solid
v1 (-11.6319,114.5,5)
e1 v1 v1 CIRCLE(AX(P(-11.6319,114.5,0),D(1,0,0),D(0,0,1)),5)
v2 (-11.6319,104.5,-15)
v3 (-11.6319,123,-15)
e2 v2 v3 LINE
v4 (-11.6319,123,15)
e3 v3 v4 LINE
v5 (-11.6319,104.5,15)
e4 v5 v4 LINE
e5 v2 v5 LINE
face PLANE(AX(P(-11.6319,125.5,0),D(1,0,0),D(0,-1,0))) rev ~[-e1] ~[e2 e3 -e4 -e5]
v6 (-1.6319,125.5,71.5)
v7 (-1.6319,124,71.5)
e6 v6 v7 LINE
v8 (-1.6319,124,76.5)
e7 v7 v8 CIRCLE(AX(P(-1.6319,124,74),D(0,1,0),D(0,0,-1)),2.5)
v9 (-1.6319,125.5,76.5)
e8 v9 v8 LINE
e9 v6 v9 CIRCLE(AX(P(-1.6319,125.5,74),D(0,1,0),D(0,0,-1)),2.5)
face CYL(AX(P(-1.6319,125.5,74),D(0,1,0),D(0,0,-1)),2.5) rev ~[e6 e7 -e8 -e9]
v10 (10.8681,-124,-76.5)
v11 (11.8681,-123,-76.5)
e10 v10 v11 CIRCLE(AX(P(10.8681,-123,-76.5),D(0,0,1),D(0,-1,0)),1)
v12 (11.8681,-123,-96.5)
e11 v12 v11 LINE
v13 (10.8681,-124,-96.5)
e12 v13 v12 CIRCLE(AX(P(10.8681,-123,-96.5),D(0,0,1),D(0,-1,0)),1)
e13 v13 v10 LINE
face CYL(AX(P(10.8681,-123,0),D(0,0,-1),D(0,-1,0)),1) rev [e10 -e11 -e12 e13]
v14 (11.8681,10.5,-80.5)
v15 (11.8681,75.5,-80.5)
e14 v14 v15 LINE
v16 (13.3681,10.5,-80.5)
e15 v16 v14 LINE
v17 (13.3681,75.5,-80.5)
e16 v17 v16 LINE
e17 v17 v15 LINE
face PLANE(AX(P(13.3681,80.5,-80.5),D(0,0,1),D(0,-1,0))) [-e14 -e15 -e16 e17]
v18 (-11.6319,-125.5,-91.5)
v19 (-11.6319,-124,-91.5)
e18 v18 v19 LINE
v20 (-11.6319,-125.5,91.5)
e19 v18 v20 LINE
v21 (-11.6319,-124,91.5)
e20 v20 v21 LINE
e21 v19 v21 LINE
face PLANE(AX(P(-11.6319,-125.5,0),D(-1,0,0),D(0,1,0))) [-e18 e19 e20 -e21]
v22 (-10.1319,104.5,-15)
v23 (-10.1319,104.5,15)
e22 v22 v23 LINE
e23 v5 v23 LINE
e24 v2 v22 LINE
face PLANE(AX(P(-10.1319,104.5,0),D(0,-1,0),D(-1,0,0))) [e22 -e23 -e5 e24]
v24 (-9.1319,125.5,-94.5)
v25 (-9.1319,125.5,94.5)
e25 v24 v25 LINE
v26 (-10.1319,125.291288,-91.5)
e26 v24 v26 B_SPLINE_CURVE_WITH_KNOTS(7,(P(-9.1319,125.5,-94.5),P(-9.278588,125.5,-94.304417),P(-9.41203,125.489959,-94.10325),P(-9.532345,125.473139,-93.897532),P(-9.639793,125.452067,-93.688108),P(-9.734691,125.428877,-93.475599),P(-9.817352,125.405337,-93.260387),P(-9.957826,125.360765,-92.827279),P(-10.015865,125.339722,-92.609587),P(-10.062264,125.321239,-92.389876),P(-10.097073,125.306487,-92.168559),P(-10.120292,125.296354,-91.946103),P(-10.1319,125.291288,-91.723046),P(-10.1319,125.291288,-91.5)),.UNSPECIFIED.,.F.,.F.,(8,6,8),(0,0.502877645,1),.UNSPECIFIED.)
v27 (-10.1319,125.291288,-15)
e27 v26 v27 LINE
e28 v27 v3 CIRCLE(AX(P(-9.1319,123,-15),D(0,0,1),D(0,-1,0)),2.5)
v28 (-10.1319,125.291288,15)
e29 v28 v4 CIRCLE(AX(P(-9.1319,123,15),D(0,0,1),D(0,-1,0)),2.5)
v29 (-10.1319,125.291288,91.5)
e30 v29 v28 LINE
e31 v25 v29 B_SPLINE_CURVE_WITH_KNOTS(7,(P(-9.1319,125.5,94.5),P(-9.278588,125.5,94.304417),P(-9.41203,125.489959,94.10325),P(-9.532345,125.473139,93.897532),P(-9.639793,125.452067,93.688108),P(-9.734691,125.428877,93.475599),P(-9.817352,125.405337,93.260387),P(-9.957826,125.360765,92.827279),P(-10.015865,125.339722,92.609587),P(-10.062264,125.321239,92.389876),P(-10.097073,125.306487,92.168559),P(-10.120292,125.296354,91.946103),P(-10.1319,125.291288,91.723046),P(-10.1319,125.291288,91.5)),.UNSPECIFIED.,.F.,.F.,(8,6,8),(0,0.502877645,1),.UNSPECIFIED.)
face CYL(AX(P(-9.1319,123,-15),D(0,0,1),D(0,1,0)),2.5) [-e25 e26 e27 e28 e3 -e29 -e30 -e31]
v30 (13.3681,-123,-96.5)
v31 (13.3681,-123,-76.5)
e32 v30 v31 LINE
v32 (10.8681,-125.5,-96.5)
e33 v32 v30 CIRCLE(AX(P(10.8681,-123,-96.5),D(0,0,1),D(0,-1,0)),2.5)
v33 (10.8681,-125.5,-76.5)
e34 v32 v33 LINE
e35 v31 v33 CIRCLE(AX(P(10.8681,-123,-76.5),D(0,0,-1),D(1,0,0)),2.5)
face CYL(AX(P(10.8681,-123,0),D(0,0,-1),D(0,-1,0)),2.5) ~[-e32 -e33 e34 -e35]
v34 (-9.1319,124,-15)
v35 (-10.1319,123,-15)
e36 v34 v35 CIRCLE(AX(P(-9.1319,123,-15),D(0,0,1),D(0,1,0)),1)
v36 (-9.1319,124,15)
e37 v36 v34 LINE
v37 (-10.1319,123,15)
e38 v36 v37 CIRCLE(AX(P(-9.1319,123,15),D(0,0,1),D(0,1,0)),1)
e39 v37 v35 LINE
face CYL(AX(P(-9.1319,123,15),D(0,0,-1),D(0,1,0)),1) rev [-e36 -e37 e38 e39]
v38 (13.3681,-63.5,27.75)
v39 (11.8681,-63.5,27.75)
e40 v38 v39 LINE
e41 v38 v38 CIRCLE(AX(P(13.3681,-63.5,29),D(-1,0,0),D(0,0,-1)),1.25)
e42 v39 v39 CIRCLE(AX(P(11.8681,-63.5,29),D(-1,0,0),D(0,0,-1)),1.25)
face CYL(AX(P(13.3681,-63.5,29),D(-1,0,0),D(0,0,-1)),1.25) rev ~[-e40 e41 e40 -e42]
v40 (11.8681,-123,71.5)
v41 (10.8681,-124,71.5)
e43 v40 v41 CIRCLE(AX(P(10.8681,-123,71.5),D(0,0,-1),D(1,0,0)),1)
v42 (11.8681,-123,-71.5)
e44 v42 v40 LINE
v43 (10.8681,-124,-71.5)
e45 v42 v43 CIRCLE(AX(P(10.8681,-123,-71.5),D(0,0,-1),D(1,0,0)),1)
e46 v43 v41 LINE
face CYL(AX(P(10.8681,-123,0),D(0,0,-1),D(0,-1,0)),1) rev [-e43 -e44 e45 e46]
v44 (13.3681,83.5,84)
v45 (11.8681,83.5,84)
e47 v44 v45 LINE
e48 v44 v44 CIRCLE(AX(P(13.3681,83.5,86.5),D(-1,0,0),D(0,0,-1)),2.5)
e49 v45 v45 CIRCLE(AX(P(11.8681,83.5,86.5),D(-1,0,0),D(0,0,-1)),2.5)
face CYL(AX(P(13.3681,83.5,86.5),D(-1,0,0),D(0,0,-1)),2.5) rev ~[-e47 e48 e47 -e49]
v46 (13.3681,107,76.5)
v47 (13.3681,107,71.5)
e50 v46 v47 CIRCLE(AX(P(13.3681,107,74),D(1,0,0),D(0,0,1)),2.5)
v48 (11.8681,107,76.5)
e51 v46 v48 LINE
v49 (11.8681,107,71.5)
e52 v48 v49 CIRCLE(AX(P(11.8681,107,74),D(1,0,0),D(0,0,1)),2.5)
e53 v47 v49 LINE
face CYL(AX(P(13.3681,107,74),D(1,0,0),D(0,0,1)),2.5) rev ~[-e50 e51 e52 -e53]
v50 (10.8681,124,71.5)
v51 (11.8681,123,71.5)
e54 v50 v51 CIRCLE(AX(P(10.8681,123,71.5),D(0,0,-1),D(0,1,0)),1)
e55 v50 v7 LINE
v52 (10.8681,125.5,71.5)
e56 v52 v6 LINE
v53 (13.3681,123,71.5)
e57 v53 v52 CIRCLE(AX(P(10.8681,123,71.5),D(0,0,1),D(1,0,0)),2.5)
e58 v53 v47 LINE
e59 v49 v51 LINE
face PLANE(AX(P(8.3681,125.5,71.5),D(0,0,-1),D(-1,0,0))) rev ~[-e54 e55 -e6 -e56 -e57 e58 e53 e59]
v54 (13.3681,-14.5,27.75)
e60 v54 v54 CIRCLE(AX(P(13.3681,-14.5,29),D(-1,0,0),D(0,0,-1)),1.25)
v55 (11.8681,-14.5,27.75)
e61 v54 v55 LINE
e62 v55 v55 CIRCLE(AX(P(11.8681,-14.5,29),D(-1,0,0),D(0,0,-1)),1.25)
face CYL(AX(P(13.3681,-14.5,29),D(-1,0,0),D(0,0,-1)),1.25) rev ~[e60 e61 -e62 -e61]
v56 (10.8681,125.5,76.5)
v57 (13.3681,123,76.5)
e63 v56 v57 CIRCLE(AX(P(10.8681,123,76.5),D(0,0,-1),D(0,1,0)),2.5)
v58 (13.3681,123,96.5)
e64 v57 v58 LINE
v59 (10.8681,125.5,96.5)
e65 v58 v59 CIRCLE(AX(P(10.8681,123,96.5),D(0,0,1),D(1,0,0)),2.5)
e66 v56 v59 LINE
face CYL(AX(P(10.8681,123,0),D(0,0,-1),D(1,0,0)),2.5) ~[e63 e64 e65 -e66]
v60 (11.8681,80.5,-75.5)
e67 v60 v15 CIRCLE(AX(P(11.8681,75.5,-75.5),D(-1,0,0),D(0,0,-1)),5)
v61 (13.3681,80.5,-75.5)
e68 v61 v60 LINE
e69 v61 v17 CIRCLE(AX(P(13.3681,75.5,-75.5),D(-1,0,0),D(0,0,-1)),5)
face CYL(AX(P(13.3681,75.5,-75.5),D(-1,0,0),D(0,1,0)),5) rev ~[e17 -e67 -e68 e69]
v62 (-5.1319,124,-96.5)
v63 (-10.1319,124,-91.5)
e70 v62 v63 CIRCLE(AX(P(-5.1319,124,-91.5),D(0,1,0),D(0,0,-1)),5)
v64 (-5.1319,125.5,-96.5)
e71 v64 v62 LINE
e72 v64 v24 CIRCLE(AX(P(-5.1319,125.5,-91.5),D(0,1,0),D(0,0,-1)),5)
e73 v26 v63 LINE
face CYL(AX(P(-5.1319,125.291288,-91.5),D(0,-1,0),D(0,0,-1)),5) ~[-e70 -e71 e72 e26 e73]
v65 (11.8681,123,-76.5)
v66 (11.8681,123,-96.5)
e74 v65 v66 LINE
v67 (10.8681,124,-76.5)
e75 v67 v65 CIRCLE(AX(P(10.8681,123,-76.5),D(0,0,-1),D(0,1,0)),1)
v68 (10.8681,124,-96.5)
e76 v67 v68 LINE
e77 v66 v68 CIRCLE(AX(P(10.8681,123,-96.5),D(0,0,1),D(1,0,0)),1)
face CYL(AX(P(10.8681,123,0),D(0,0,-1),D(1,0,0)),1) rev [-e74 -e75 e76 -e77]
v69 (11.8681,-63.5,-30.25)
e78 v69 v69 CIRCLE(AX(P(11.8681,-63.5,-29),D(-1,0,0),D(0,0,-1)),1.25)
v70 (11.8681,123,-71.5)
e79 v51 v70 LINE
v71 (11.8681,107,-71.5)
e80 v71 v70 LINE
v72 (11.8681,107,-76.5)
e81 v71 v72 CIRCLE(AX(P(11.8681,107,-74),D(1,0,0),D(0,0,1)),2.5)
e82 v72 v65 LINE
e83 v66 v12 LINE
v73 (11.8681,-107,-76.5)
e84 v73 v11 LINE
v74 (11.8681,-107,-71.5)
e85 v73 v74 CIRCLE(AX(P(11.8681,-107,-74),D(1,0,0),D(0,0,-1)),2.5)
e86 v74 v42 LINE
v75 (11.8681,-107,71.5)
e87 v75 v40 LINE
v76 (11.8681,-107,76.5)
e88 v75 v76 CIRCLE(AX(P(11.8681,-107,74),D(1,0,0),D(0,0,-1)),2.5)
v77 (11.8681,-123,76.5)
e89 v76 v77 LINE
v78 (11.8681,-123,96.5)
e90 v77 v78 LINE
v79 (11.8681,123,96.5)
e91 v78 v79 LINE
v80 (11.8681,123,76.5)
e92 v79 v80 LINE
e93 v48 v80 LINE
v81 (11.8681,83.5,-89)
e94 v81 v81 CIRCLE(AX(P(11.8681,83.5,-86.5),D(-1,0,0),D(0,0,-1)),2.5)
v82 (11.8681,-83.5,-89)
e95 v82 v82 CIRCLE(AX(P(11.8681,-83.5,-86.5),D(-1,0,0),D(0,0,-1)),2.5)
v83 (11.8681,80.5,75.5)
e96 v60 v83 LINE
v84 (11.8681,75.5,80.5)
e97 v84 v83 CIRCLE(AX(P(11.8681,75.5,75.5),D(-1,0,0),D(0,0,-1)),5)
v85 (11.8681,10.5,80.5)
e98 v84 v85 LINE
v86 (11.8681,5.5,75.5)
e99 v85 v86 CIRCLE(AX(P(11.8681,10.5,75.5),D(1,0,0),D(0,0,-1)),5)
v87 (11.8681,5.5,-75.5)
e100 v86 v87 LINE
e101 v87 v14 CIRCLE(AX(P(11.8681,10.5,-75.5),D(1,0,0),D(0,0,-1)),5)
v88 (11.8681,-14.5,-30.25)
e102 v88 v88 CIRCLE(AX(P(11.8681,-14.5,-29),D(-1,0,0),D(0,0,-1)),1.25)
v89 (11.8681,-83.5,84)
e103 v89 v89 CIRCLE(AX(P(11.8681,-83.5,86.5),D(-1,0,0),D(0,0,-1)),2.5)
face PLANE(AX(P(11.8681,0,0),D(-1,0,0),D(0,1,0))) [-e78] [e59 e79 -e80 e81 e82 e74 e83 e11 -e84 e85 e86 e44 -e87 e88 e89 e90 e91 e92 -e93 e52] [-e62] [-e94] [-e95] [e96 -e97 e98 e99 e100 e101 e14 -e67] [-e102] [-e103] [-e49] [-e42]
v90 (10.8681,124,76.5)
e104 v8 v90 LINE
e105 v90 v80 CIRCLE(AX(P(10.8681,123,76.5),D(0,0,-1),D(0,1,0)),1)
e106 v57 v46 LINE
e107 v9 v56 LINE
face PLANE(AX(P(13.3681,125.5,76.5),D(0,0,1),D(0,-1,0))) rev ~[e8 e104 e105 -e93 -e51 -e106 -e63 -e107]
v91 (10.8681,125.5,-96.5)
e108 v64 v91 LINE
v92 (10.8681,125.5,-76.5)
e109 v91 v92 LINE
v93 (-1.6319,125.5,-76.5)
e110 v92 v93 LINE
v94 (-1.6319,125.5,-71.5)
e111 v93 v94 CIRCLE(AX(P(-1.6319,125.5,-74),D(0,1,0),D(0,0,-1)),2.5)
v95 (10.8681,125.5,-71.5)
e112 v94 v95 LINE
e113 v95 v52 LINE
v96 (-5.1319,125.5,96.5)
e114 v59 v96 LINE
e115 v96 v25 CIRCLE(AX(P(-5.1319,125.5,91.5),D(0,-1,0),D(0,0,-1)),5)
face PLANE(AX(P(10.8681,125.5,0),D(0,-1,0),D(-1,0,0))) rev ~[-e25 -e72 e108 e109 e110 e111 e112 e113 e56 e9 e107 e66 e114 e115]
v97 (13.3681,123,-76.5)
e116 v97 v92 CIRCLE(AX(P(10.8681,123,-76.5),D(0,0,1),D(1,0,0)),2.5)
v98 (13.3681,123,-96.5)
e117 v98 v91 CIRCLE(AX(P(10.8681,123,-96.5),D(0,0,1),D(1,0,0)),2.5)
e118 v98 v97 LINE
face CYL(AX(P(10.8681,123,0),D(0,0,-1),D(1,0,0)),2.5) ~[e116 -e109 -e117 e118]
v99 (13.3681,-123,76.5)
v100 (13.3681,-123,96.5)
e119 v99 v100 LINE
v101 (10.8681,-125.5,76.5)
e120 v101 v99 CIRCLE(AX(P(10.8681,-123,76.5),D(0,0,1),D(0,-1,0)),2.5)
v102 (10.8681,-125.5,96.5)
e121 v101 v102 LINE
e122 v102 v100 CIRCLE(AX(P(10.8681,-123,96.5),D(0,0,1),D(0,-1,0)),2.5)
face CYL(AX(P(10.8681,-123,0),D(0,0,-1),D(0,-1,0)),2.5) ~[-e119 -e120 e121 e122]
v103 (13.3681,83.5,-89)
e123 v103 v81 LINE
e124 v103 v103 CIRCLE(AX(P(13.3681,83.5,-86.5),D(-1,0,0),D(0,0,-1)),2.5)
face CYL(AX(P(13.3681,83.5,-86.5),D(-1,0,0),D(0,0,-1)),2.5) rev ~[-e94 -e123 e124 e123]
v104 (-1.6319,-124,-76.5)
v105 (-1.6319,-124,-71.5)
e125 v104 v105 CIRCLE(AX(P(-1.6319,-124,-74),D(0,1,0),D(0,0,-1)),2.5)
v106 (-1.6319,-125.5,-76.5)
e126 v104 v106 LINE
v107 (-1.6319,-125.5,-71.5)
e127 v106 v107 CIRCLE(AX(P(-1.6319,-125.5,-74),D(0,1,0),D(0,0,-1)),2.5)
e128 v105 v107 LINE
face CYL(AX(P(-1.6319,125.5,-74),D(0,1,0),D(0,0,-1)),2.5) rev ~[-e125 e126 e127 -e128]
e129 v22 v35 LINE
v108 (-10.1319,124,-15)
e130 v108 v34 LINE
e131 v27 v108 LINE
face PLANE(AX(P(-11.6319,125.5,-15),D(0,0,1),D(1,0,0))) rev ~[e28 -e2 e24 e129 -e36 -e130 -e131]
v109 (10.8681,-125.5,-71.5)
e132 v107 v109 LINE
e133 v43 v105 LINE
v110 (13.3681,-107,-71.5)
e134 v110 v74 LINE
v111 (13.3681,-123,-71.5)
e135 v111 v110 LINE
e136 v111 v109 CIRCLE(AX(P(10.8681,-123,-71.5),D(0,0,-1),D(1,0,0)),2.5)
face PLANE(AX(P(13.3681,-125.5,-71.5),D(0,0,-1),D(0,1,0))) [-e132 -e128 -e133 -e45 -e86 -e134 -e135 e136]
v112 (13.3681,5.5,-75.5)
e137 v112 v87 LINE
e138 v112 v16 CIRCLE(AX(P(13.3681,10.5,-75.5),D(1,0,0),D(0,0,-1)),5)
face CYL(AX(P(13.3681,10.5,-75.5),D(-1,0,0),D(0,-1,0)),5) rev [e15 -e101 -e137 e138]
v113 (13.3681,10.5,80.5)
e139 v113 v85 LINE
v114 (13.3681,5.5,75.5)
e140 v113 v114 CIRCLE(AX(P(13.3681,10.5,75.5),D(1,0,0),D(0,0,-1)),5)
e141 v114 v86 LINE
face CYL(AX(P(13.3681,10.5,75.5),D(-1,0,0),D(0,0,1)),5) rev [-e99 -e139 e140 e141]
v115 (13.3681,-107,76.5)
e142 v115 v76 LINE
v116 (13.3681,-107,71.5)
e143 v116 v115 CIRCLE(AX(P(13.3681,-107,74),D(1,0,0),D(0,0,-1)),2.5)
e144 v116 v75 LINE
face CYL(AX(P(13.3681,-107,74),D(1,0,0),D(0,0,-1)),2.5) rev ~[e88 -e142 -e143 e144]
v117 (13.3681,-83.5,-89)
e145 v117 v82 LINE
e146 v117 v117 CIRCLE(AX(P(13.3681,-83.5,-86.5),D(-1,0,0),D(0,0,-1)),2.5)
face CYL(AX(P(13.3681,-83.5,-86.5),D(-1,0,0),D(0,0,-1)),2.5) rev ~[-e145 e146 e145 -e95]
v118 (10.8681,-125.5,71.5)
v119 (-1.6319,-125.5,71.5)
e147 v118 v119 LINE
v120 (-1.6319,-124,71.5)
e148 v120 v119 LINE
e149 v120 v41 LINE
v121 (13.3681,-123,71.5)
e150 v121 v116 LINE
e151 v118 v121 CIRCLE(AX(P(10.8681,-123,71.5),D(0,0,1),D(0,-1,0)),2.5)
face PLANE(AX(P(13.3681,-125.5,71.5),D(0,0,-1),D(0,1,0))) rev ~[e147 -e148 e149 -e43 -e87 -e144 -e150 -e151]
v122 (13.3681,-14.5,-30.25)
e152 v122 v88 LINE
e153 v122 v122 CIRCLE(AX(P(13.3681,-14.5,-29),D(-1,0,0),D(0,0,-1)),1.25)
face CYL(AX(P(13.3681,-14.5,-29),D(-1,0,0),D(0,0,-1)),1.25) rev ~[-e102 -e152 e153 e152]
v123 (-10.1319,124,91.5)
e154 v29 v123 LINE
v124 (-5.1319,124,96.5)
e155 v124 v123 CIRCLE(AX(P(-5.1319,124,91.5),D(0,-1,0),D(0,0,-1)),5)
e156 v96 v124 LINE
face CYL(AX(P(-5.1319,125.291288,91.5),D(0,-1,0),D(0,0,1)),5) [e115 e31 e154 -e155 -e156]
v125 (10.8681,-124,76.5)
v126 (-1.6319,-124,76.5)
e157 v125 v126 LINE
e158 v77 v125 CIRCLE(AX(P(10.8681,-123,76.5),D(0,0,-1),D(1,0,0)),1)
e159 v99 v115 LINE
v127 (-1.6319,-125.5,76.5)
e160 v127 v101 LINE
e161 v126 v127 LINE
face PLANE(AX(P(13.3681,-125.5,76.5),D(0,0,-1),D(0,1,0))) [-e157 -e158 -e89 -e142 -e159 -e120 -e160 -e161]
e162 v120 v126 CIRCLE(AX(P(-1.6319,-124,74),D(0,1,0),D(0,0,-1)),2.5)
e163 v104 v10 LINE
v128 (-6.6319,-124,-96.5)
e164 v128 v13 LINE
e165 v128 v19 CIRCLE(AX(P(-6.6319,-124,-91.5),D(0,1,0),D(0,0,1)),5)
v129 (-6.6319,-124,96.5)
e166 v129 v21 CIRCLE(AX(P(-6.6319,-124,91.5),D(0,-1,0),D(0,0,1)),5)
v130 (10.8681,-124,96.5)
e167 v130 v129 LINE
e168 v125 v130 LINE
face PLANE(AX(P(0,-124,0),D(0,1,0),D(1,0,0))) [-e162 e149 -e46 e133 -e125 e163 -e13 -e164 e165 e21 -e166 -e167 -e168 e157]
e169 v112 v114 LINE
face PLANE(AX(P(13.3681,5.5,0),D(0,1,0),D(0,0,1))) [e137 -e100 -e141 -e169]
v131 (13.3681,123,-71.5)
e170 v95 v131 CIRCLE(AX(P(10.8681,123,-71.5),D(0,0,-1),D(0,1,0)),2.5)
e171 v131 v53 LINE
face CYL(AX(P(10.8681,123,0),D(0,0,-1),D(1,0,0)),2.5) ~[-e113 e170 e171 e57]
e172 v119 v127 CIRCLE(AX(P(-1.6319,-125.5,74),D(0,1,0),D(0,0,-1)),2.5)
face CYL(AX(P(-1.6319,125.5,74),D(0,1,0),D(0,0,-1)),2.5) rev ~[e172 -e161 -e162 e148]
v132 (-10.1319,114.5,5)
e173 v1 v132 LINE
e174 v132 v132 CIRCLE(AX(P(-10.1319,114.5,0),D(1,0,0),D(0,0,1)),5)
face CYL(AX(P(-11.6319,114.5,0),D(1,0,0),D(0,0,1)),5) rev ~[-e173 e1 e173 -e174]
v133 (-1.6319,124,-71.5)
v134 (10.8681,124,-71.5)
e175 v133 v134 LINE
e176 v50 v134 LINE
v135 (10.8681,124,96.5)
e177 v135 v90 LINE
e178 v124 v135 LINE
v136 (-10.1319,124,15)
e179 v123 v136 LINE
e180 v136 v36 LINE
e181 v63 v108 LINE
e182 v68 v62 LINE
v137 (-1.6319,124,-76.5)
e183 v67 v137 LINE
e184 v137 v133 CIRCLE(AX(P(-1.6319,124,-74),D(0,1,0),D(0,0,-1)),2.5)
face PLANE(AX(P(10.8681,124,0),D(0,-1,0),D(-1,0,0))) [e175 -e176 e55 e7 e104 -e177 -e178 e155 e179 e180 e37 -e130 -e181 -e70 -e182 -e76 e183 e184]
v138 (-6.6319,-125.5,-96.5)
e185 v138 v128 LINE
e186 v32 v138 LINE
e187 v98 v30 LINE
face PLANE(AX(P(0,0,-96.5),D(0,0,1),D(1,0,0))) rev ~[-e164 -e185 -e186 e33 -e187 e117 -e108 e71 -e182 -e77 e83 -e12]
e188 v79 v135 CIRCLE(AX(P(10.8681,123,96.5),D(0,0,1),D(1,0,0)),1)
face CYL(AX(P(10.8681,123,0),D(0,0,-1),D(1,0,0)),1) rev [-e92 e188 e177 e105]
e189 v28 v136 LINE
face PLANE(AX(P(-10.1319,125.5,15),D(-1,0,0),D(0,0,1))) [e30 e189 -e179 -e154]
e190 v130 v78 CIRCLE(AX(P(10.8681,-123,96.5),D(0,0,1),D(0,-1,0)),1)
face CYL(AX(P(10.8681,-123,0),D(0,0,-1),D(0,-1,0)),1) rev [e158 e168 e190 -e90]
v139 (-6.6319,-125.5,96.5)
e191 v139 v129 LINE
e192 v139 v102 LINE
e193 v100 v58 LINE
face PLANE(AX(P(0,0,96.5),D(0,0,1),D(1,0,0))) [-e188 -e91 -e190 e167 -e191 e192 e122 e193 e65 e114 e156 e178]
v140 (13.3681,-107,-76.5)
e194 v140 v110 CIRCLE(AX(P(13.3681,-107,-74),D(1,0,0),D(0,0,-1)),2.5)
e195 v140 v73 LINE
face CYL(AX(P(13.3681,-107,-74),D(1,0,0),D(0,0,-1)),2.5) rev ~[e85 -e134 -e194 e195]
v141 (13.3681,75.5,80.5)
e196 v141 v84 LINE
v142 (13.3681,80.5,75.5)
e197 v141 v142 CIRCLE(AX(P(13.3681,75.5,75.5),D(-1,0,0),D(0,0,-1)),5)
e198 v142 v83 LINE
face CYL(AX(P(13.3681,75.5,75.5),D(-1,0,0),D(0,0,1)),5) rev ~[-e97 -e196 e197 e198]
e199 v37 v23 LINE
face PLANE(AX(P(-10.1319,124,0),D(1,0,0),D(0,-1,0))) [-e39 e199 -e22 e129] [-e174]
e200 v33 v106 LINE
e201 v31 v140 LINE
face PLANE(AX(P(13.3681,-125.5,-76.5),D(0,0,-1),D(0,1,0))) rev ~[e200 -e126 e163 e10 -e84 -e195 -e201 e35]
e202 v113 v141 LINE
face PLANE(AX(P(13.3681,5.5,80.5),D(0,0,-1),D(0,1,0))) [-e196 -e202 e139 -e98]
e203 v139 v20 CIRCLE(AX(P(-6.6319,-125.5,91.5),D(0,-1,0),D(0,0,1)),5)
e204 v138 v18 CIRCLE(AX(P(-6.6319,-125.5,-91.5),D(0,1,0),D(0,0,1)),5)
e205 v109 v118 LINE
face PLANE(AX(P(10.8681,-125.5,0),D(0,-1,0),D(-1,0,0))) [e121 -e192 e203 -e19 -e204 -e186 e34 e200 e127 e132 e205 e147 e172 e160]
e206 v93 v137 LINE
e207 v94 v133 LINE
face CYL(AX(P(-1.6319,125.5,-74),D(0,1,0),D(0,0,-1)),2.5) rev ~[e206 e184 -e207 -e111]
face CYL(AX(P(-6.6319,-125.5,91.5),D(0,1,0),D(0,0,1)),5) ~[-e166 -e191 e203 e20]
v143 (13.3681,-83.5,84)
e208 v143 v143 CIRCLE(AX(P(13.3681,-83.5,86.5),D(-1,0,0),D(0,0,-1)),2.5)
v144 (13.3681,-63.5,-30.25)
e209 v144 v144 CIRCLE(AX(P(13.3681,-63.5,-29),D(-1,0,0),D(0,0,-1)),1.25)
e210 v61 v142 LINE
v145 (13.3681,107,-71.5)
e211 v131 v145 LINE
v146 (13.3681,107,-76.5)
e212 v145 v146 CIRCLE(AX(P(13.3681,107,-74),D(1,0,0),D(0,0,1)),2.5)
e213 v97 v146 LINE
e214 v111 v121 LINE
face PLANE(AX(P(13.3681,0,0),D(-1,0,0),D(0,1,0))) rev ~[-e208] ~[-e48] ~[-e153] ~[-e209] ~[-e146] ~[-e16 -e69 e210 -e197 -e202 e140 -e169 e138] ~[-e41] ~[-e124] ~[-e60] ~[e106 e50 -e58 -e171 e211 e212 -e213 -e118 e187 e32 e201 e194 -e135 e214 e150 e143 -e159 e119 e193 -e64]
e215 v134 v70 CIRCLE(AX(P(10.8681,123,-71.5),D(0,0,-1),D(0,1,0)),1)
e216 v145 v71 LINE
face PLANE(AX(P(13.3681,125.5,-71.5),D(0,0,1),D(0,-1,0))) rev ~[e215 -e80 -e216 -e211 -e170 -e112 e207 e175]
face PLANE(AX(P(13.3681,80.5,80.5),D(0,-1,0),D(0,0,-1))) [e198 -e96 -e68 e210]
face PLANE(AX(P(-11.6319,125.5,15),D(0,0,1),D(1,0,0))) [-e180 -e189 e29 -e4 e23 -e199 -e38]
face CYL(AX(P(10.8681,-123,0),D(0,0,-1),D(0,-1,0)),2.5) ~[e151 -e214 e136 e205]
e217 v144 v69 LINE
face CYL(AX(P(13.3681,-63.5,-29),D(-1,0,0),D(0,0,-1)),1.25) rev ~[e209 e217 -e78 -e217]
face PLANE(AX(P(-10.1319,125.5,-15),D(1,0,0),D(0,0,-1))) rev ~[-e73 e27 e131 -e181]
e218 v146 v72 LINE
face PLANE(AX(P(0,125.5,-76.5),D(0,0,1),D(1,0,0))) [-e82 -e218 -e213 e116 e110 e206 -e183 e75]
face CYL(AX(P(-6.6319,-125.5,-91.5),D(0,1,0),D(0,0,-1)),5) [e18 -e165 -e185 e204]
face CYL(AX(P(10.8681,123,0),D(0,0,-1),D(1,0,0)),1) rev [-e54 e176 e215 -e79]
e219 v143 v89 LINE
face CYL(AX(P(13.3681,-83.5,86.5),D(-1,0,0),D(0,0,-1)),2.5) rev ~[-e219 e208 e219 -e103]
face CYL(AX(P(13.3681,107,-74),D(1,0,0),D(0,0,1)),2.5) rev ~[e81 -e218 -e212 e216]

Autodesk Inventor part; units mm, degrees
ref_plane "YZ Plane" through (0, 0, 0) normal (1, 0, 0) x (0, 1, 0)
ref_plane "XZ Plane" through (0, 0, 0) normal (0, 1, 0) x (-1, 0, 0)
ref_plane "XY Plane" through (0, 0, 0) normal (0, 0, 1) x (1, 0, 0)
sketch "Skizze1" plane through (0, 0, 0) normal (0, 0, 1) x (1, 0, 0)
  line L0 (-65.8319, 0) -> (313.5681, 0) projected
  line L1 (0, -176.4249) -> (0, 176.4249) projected
  line L2 (13.3681, -123) -> (13.3681, 123)
  line L3 (13.3681, -125.5) -> (259.3681, -125.5) construction
  line L4 (10.8681, 125.5) -> (-11.6319, 125.5)
  line L5 (-11.6319, 125.5) -> (-11.6319, 104.5)
  line L6 (10.8681, -125.5) -> (-11.6319, -125.5)
  line L7 (13.3681, -125.5) -> (35.8681, -125.5) construction
  line L8 (-11.6319, -125.5) -> (-11.6319, -124)
  line L9 (-11.6319, -124) -> (10.8681, -124)
  line L10 (11.8681, -123) -> (11.8681, 123)
  line L11 (10.8681, 124) -> (-10.1319, 124)
  line L12 (-10.1319, 124) -> (-10.1319, 104.5)
  line L13 (-10.1319, 104.5) -> (-11.6319, 104.5)
  arc A0 (13.3681, 123) -> (10.8681, 125.5) centre (10.8681, 123) ccw
  arc A1 (10.8681, -125.5) -> (13.3681, -123) centre (10.8681, -123) ccw
  arc A2 (10.8681, -124) -> (11.8681, -123) centre (10.8681, -123) ccw
  arc A3 (11.8681, 123) -> (10.8681, 124) centre (10.8681, 123) ccw
  point P0 (0, 0)
  point P1 (13.3681, 125.5)
  point P2 (11.8681, -124)
  point P3 (11.8681, 124)
  dimension "d0" = 251
  dimension "d1" = 90
  dimension "d2" = 25
  dimension "d3" = 90
  dimension "d4" = 21
  dimension "d5" = 90
  dimension "d6" = 25
  dimension "d7" = 180
  dimension "d8" = 1.5
  dimension "d9" = 90
  dimension "d10" = 23.5
  dimension "d11" = 90
  dimension "d12" = 248
  dimension "d13" = 90
  dimension "d14" = 22
  dimension "d15" = 90
  dimension "d17" = 1
extrude "Extrusion1" add sketch "Skizze1" along normal mid plane 193 contours L10 A3 L11 L1 L4 A0 L2 L0 | L0 L2 A1 L6 L1 L9 A2 L10 | L1 L6 L8 L9 | L11 L12 L13 L5 L4 L1
sketch "Skizze2" plane through (-11.6319, 104.5, 96.5) normal (-1, 0, 0) x (0, 0, 1)
  line L0 (-96.5, -280.2) -> (-96.5, 71.2) projected
  line L1 (-231.6, -104.5) -> (38.6, -104.5) projected
  line L2 (-193, 19.5) -> (-111.5, 19.5)
  line L3 (-111.5, 19.5) -> (-111.5, 0)
  line L4 (-111.5, 0) -> (-193, 0)
  line L5 (-193, 0) -> (-193, 19.5)
  line L6 (-193, -227.5) -> (-193, 18.5) projected
  line L7 (0, 21) -> (-193, 21) projected
  line L8 (0, 19.5) -> (-81.5, 19.5)
  line L9 (-81.5, 19.5) -> (-81.5, 0)
  line L10 (-81.5, 0) -> (0, 0)
  line L11 (0, 0) -> (0, 19.5)
  point P0 (-96.5, -104.5)
  dimension "d20" = 19.5
  dimension "d22" = 1.5
  dimension "d23" = 15
extrude "Extrusion2" cut sketch "Skizze2" against normal blind 2
sketch "Skizze3" plane through (-11.6319, 125.5, 96.5) normal (0, 1, 0) x (1, 0, 0)
  line L0 (-5, 96.5) -> (30, 96.5) projected
  line L1 (11.6319, 231.6) -> (11.6319, -38.6) projected
  line L2 (0, 0) -> (0, 81.5)
  line L3 (0, 81.5) -> (1.5, 81.5)
  line L4 (1.5, 81.5) -> (1.5, 0)
  line L5 (0, 81.5) -> (0, 0) projected
  line L6 (1.5, 0) -> (0, 0)
  line L7 (0, 0) -> (0, 193) projected
  line L8 (22.5, 0) -> (0, 0) projected
  line L9 (0, 193) -> (0, 111.5)
  line L10 (0, 111.5) -> (1.5, 111.5)
  line L11 (1.5, 111.5) -> (1.5, 193)
  line L12 (1.5, 193) -> (0, 193)
  point P0 (11.6319, 96.5)
  dimension "d27" = 1.5
  dimension "d28" = 15
extrude "Extrusion3" cut sketch "Skizze3" against normal blind 2 contours L7 L12 L11 L10 | L3 L4 L6 L2
fillet "Rundung1" radius 2.5 1 edges at (-11.6319, 125.5, 0)
fillet "Rundung2" radius 1 1 edges at (-10.1319, 124, 0)
hole "Bohrung1" at (-11.6319, 114.5, 0) direction (1, 0, 0) diameter 10 depth 8 tip angle 118
sketch "Skizze4" plane through (13.3681, -123, 96.5) normal (1, 0, 0) x (0, 0, -1)
  line L0 (231.6, 123) -> (-38.6, 123) projected
  line L1 (96.5, -52.7) -> (96.5, 298.7) projected
  line L2 (16, 203.5) -> (177, 203.5)
  line L3 (177, 203.5) -> (177, 128.5)
  line L4 (177, 128.5) -> (16, 128.5)
  line L5 (16, 128.5) -> (16, 203.5)
  line L6 (0, 0) -> (0, 246) projected
  line L7 (193, 0) -> (193, 246) projected
  line L8 (0, 248.5) -> (193, 248.5) projected
  point P0 (96.5, 123)
  dimension "d42" = 16
  dimension "d43" = 75
  dimension "d44" = 16
  dimension "d45" = 45
extrude "Extrusion4" cut sketch "Skizze4" against normal blind 2
hole "Bohrung2" at (13.3681, 83.5, -86.5) direction (-1, 0, 0) diameter 5 depth 8 tip angle 118
pattern_linear "Rechteckige Anordnung1" count 2 spacing 173 along (0, 0, 1) count 2 spacing 167 along (0, -1, 0) of "Bohrung2"
hole "Bohrung3" at (13.3681, -14.5, 29) direction (-1, 0, 0) diameter 2.5 depth 8 tip angle 118
pattern_linear "Rechteckige Anordnung2" count 2 spacing 58 along (0, 0, -1) count 2 spacing 49 along (0, -1, 0) of "Bohrung3"
sketch "Skizze5" plane through (13.3681, -123, 96.5) normal (1, 0, 0) x (0, 0, -1)
  line L0 (96.5, -52.7) -> (96.5, 298.7) projected
  line L1 (231.6, 123) -> (-38.6, 123) projected
  line L2 (20, -2.5) -> (20, 16)
  line L3 (25, -2.5) -> (25, 16)
  arc A0 (25, 16) -> (20, 16) centre (22.5, 16) ccw
  line L4 (0, 0) -> (0, 246) projected
  line L5 (0, -2.5) -> (193, -2.5) projected
  line L6 (20, -2.5) -> (25, -2.5)
  line L7 (173, -2.5) -> (173, 16)
  line L8 (168, -2.5) -> (168, 16)
  arc A1 (173, 16) -> (168, 16) centre (170.5, 16) ccw
  line L9 (173, -2.5) -> (168, -2.5)
  line L10 (20, 248.5) -> (20, 230)
  line L11 (25, 248.5) -> (25, 230)
  arc A2 (20, 230) -> (25, 230) centre (22.5, 230) ccw
  line L12 (20, 248.5) -> (25, 248.5)
  line L13 (173, 248.5) -> (173, 230)
  arc A3 (168, 230) -> (173, 230) centre (170.5, 230) ccw
  line L14 (168, 248.5) -> (168, 230)
  line L15 (173, 248.5) -> (168, 248.5)
  point P0 (96.5, 123)
  point P1 (0, 248.5)
  point P2 (193, 248.5)
  dimension "d78" = 5
  dimension "d79" = 22.5
  dimension "d80" = 18.5
extrude "Extrusion5" cut sketch "Skizze5" against normal blind 5
sketch "Skizze6" plane through (-9.1319, 125.5, -96.5) normal (0, 1, 0) x (1, 0, 0)
  line L0 (9.1319, 38.6) -> (9.1319, -231.6) projected
  line L1 (-7.5, -96.5) -> (27.5, -96.5) projected
  line L2 (7.5, -173) -> (20.5, -173)
  line L3 (21, -177) -> (21, -16) projected
  line L4 (20.5, -173) -> (20.5, -168)
  line L5 (20.5, -168) -> (7.5, -168)
  line L6 (22.5, -193) -> (22.5, -173) projected
  line L7 (17.5, -168) -> (20, -168) projected
  arc A0 (7.5, -168) -> (7.5, -173) centre (7.5, -170.5) ccw
  line L8 (7.5, -20) -> (20.5, -20)
  line L9 (20.5, -20) -> (20.5, -25)
  line L10 (20.5, -25) -> (7.5, -25)
  line L11 (17.5, -25) -> (20, -25)
  arc A1 (7.5, -20) -> (7.5, -25) centre (7.5, -22.5) ccw
  point P0 (9.1319, -96.5)
  dimension "d83" = 5
  dimension "d84" = 2
  dimension "d85" = 15
extrude "Extrusion6" cut sketch "Skizze6" against normal through all
fillet "Rundung3" radius 5 4 edges at (12.6181, 5.5, 80.5) (12.6181, 80.5, 80.5) (12.6181, 80.5, -80.5) (12.6181, 5.5, -80.5)
fillet "Rundung4" radius 5 4 edges at (-10.1319, 124.6456, -96.5) (-11.6319, -124.75, -96.5) (-11.6319, -124.75, 96.5) (-10.1319, 124.6456, 96.5)
properties part number "Innengehäuse gebogen" material "Stahl AISI 1015"
